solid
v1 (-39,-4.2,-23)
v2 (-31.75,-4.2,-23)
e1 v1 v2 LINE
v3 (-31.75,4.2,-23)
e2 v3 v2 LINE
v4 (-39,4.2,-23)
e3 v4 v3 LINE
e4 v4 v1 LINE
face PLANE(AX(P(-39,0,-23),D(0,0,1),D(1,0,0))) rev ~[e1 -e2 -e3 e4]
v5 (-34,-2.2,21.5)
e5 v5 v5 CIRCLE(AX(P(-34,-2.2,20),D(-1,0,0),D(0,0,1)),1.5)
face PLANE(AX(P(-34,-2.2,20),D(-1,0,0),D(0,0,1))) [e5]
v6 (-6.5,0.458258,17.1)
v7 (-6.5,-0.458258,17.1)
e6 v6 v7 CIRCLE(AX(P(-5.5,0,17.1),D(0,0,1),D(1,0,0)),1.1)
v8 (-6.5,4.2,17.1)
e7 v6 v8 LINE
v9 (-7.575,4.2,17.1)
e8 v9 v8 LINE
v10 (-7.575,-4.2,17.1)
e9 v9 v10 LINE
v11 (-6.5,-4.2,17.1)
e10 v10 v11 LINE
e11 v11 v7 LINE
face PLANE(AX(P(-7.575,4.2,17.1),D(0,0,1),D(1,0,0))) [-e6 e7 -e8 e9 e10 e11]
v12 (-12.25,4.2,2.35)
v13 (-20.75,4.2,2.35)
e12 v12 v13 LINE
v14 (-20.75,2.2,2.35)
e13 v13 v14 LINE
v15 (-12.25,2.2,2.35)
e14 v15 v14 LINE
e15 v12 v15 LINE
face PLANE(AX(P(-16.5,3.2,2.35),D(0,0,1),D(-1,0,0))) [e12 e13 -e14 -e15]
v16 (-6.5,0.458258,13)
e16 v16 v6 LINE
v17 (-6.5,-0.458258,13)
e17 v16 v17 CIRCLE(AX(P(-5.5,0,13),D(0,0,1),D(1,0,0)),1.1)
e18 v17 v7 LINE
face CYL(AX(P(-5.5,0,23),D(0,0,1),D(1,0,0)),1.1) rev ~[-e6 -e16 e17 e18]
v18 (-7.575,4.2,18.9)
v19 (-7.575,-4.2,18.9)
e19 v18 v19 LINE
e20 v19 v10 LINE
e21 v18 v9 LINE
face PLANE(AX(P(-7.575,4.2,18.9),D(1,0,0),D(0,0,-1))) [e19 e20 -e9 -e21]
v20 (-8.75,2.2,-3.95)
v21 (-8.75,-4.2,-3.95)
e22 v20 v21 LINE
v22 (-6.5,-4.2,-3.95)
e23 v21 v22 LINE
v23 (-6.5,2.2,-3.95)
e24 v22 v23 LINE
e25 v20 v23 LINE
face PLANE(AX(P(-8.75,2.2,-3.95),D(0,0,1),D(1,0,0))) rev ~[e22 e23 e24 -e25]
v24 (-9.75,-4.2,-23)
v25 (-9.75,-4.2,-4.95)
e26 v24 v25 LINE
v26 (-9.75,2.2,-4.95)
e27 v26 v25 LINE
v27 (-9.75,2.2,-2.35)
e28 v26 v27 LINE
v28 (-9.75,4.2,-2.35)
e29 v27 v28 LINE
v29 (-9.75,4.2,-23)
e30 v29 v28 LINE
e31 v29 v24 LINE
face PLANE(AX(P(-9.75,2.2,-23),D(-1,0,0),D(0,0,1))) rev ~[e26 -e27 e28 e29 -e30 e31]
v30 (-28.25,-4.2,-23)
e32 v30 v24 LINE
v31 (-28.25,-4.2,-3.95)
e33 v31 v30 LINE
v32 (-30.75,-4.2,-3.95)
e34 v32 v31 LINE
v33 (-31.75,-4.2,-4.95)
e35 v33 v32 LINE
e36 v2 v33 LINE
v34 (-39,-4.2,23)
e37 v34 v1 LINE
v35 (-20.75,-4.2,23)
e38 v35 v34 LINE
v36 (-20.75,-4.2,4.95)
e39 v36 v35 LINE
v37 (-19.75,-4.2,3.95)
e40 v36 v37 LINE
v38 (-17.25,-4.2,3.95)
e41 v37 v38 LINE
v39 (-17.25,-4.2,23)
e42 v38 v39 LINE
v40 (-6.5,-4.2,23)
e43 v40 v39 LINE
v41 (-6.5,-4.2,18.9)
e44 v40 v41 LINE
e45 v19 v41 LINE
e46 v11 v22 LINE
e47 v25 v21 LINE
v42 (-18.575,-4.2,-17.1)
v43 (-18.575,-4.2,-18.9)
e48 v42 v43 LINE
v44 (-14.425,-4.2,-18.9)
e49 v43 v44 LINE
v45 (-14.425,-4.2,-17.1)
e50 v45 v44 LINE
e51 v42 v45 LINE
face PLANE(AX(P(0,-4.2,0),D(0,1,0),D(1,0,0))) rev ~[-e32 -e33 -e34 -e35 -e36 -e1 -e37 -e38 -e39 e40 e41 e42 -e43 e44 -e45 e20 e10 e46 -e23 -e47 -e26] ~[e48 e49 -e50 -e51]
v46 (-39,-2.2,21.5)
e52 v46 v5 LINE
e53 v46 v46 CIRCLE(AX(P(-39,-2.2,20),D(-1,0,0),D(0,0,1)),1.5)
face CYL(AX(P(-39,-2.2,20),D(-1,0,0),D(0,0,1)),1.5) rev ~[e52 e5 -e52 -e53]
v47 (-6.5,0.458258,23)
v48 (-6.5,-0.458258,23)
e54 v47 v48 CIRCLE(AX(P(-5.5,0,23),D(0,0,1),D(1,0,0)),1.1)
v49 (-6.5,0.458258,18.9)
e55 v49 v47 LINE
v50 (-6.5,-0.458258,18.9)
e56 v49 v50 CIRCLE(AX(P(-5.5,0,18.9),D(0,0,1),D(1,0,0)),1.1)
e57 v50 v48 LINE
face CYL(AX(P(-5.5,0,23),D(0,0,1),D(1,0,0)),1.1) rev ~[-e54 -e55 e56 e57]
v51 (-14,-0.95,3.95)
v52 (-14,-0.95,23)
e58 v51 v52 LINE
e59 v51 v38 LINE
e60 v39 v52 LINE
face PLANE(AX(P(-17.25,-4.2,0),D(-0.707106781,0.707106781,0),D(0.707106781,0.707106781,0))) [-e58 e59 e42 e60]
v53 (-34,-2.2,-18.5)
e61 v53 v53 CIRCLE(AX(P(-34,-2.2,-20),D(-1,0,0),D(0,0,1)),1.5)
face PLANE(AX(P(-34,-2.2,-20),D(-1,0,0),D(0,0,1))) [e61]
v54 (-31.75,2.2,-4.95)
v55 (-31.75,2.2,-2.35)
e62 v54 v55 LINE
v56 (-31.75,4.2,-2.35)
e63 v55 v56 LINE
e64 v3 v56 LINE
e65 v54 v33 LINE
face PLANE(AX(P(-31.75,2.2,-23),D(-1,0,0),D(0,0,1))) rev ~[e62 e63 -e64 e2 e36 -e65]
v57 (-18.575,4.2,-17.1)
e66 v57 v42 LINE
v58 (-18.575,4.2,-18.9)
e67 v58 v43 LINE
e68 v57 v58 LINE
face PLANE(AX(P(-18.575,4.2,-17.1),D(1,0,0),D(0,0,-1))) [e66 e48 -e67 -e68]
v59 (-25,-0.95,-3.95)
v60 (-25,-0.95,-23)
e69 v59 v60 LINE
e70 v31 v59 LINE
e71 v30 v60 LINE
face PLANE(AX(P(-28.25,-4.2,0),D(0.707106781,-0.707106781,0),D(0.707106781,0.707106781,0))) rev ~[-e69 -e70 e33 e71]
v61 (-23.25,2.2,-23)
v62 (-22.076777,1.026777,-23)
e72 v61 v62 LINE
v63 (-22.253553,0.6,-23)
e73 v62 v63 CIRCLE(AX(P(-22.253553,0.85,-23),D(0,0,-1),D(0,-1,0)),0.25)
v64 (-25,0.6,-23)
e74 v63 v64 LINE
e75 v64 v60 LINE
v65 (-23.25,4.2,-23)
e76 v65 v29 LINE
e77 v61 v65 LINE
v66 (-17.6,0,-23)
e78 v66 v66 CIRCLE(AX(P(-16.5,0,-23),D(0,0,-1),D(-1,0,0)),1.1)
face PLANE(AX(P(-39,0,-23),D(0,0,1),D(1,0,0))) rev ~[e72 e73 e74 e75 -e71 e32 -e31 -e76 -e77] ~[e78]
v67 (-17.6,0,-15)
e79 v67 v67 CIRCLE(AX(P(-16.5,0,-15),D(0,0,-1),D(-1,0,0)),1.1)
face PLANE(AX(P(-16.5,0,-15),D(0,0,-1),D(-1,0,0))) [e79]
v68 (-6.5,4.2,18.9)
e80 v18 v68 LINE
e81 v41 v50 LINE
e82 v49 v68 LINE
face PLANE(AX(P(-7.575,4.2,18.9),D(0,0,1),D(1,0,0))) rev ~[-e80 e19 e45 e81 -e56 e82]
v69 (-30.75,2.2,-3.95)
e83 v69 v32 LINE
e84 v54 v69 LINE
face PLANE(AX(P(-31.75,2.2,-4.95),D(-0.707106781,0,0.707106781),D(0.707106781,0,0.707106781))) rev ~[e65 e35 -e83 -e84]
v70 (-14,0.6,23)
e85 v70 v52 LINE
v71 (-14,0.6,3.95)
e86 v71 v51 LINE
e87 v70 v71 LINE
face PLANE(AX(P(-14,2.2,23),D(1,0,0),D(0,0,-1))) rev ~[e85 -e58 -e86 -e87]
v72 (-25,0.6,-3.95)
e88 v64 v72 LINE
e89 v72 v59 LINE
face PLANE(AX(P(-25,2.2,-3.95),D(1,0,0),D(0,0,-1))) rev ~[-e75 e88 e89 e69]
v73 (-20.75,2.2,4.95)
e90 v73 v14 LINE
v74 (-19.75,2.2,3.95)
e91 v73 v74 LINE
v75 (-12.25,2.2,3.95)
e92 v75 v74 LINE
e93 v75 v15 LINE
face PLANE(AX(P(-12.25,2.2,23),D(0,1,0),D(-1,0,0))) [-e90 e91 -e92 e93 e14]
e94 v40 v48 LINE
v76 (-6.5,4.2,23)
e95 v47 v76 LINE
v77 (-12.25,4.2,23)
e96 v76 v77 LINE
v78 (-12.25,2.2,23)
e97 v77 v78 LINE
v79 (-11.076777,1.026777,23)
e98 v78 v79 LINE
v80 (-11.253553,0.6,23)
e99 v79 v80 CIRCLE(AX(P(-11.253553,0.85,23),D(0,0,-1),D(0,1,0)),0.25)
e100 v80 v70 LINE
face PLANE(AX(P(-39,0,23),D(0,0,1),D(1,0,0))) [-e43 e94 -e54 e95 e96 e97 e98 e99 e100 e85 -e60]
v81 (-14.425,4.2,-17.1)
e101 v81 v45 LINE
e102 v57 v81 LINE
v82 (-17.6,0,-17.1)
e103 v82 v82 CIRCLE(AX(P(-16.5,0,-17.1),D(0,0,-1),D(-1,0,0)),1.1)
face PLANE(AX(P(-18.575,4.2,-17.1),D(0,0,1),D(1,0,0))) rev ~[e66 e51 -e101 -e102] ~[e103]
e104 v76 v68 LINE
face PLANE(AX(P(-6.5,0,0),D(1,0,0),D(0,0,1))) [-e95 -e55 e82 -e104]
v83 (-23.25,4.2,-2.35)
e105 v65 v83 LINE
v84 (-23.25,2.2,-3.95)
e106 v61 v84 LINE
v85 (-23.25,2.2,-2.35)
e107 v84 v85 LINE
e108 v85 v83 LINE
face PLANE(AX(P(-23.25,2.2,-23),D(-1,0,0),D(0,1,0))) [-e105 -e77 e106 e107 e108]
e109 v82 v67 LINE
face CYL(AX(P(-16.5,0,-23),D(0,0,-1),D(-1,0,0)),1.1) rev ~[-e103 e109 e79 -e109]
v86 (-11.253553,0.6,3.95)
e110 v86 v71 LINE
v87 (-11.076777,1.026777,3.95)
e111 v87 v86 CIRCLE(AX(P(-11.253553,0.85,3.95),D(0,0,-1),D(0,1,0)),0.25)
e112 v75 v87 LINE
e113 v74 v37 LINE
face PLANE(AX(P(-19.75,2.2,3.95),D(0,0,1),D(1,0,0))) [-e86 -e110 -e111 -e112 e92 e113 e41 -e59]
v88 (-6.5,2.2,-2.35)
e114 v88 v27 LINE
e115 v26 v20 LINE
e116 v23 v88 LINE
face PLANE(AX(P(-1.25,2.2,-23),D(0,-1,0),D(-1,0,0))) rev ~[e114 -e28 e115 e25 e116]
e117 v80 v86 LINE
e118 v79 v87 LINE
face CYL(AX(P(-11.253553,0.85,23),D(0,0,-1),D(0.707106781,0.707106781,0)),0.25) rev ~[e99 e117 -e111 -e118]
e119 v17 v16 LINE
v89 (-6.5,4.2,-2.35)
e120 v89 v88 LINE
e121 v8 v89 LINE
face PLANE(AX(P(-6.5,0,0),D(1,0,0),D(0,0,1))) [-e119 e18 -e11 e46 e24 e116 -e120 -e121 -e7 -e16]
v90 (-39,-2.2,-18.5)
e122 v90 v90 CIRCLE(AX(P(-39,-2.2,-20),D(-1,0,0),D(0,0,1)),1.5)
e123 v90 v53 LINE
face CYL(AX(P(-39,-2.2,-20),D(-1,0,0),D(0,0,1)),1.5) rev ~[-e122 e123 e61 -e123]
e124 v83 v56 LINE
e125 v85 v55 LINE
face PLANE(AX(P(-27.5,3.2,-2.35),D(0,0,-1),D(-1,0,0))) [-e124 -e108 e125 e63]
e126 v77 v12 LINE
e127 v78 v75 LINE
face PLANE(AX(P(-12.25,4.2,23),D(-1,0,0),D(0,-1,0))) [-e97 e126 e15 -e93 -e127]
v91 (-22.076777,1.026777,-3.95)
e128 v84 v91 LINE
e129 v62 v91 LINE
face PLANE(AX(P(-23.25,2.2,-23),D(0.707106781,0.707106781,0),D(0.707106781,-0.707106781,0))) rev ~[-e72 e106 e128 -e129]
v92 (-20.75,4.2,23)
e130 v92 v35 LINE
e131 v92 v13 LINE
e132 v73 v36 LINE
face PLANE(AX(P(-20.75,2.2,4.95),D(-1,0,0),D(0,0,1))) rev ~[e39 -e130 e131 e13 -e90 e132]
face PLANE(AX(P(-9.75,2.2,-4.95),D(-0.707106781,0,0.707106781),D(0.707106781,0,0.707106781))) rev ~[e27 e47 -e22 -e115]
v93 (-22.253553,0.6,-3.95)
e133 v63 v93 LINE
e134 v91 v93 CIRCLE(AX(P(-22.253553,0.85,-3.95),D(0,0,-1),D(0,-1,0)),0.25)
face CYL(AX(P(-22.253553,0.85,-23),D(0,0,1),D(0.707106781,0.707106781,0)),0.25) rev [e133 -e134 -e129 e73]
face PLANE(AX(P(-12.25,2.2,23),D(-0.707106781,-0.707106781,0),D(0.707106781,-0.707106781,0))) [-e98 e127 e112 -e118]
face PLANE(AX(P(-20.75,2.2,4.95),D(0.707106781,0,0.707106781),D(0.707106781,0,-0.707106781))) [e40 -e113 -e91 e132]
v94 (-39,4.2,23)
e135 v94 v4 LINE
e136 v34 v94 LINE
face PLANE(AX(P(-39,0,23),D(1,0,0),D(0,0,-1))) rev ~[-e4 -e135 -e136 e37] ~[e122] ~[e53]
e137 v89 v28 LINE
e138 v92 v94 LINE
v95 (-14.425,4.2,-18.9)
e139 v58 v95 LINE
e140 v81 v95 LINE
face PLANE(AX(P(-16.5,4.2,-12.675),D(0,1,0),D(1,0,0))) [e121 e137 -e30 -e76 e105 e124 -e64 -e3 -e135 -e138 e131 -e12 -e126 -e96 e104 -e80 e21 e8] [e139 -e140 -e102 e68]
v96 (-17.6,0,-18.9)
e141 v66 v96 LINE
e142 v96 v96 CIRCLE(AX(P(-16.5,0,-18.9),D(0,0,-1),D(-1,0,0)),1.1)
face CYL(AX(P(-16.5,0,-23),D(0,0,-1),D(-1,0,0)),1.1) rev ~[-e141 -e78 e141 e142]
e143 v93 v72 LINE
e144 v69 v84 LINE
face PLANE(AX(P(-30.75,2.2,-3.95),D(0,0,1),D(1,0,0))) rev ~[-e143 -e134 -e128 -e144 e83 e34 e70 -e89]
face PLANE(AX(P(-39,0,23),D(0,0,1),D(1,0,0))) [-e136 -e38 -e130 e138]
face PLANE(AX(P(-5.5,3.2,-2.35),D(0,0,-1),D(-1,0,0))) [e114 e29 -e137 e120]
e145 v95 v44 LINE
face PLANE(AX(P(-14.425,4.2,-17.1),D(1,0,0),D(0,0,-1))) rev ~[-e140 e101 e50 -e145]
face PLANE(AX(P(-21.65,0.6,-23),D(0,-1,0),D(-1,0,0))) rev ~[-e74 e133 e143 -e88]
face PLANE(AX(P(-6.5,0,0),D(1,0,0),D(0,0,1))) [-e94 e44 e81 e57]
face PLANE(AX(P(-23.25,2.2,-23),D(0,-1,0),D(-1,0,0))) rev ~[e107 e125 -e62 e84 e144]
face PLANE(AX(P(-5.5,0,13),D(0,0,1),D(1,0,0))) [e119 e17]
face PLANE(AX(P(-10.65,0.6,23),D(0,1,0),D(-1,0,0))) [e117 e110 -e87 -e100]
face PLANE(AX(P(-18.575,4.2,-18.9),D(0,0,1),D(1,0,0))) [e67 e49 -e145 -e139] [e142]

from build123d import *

# Parameters (mm, degrees)
SKETCH1_W               = 78
SKETCH1_H               = 46
BOSS_EXTRUDE1_DEPTH     = 4.2
SKETCH2_W               = 8.5
SKETCH2_H               = 2
CUT_EXTRUDE1_DEPTH      = 20.65
CUT_EXTRUDE2_DEPTH      = 7.4
BOSS_EXTRUDE3_DEPTH     = 23
LPATTERN1_COUNT         = 6
LPATTERN1_PITCH         = 11
MIRROR3_COPY_1_SKETCH_W = 8.5
MIRROR3_COPY_1_SKETCH_H = 2
MIRROR3_COPY_1_DEPTH    = 20.65
MIRROR3_COPY_2_SKETCH_W = 8.5
MIRROR3_COPY_2_SKETCH_H = 2
MIRROR3_COPY_2_DEPTH    = 20.65
MIRROR3_COPY_3_SKETCH_W = 8.5
MIRROR3_COPY_3_SKETCH_H = 2
MIRROR3_COPY_3_DEPTH    = 20.65
MIRROR3_COPY_4_SKETCH_W = 8.5
MIRROR3_COPY_4_SKETCH_H = 2
MIRROR3_COPY_4_DEPTH    = 20.65
MIRROR3_COPY_5_SKETCH_W = 8.5
MIRROR3_COPY_5_SKETCH_H = 2
MIRROR3_COPY_5_DEPTH    = 20.65
MIRROR3_COPY_6_DEPTH    = 7.4
MIRROR3_COPY_7_DEPTH    = 7.4
MIRROR3_COPY_8_DEPTH    = 7.4
MIRROR3_COPY_9_DEPTH    = 7.4
MIRROR3_COPY_10_DEPTH   = 7.4
MIRROR3_COPY_11_DEPTH   = 23
MIRROR3_COPY_12_DEPTH   = 23
MIRROR3_COPY_13_DEPTH   = 23
MIRROR3_COPY_14_DEPTH   = 23
MIRROR3_COPY_15_DEPTH   = 23
SKETCH6_W               = 8.5
SKETCH6_H               = 20.65
BOSS_EXTRUDE2_DEPTH     = 8.4
SKETCH4_R               = 1.5
CUT_EXTRUDE3_DEPTH      = 5
SKETCH7_R               = 1.1
CUT_EXTRUDE4_DEPTH      = 10
SKETCH9_W               = 4.15
SKETCH9_H               = 1.8
CUT_EXTRUDE5_DEPTH      = 9.4
SKETCH10_W              = 4.15
SKETCH10_H              = 1.8
CUT_EXTRUDE6_DEPTH      = 9.4
SKETCH11_R              = 1.1
CUT_EXTRUDE7_DEPTH      = 8
LPATTERN2_COUNT         = 2
LPATTERN2_PITCH         = 22
CUT_EXTRUDE8_DEPTH      = 19.05
CUT_EXTRUDE9_DEPTH      = 19.05
LPATTERN3_COUNT         = 3
LPATTERN3_PITCH         = 22
LPATTERN4_COUNT         = 3
LPATTERN4_PITCH         = 22
FILLET1_R               = 0.25


with BuildPart() as part:
    # Sketch1 → Boss-Extrude1 (new body, symmetric)
    with BuildSketch(Plane(origin=(0, 0, 0), x_dir=(1, 0, 0), z_dir=(0, 1, 0))):
        Rectangle(SKETCH1_W, SKETCH1_H)
    extrude(amount=BOSS_EXTRUDE1_DEPTH, both=True)

    # Sketch2 → Cut-Extrude1 (cut)
    with BuildSketch(Plane(origin=(0, 0, -23), x_dir=(-1, 0, 0), z_dir=(0, 0, -1))):
        with Locations((-27.5, 3.2)):
            Rectangle(SKETCH2_W, SKETCH2_H)
    cut_extrude1 = extrude(amount=-CUT_EXTRUDE1_DEPTH, mode=Mode.SUBTRACT)

    # Sketch3 → Cut-Extrude2 (cut, through all)
    with BuildSketch(Plane(origin=(0, 2.2, 0), x_dir=(1, 0, 0), z_dir=(0, 1, 0))):
        Polygon((24.25, 21.3), (23.25, 20.3), (23.25, 4.95), (24.25, 3.95), (30, 3.95), (30, 21.3), align=None)
        Polygon((30, 23), (23.25, 23), (23.25, 20.3), (24.25, 21.3), (30, 21.3), align=None)
    cut_extrude2 = extrude(amount=-CUT_EXTRUDE2_DEPTH, mode=Mode.SUBTRACT)

    # Sketch15 → Boss-Extrude3 (add)
    with BuildSketch(Plane.XY):
        Polygon((30, -4.2), (26.75, -4.2), (30, -0.95), align=None)
    boss_extrude3 = extrude(amount=-BOSS_EXTRUDE3_DEPTH)

    # LPattern1: Cut-Extrude1, Cut-Extrude2, Boss-Extrude3 ×6
    with Locations(*[(-i * LPATTERN1_PITCH, 0, 0) for i in range(1, LPATTERN1_COUNT)]):
        add(cut_extrude1, mode=Mode.SUBTRACT)
        add(cut_extrude2, mode=Mode.SUBTRACT)
        add(boss_extrude3)

    # Mirror3: Cut-Extrude1, Cut-Extrude2, Boss-Extrude3 across plane
    add(cut_extrude1.mirror(Plane.XY), mode=Mode.SUBTRACT)
    add(cut_extrude2.mirror(Plane.XY), mode=Mode.SUBTRACT)
    add(boss_extrude3.mirror(Plane.XY))

    # Mirror3 copy 1 sketch → Mirror3 copy 1 (cut)
    with BuildSketch(Plane(origin=(-11, 0, 23), x_dir=(-1, 0, 0), z_dir=(0, 0, 1))):
        with Locations((-27.5, -3.2)):
            Rectangle(MIRROR3_COPY_1_SKETCH_W, MIRROR3_COPY_1_SKETCH_H)
    extrude(amount=-MIRROR3_COPY_1_DEPTH, mode=Mode.SUBTRACT)

    # Mirror3 copy 2 sketch → Mirror3 copy 2 (cut)
    with BuildSketch(Plane(origin=(-22, 0, 23), x_dir=(-1, 0, 0), z_dir=(0, 0, 1))):
        with Locations((-27.5, -3.2)):
            Rectangle(MIRROR3_COPY_2_SKETCH_W, MIRROR3_COPY_2_SKETCH_H)
    extrude(amount=-MIRROR3_COPY_2_DEPTH, mode=Mode.SUBTRACT)

    # Mirror3 copy 3 sketch → Mirror3 copy 3 (cut)
    with BuildSketch(Plane(origin=(-33, 0, 23), x_dir=(-1, 0, 0), z_dir=(0, 0, 1))):
        with Locations((-27.5, -3.2)):
            Rectangle(MIRROR3_COPY_3_SKETCH_W, MIRROR3_COPY_3_SKETCH_H)
    extrude(amount=-MIRROR3_COPY_3_DEPTH, mode=Mode.SUBTRACT)

    # Mirror3 copy 4 sketch → Mirror3 copy 4 (cut)
    with BuildSketch(Plane(origin=(-44, 0, 23), x_dir=(-1, 0, 0), z_dir=(0, 0, 1))):
        with Locations((-27.5, -3.2)):
            Rectangle(MIRROR3_COPY_4_SKETCH_W, MIRROR3_COPY_4_SKETCH_H)
    extrude(amount=-MIRROR3_COPY_4_DEPTH, mode=Mode.SUBTRACT)

    # Mirror3 copy 5 sketch → Mirror3 copy 5 (cut)
    with BuildSketch(Plane(origin=(-55, 0, 23), x_dir=(-1, 0, 0), z_dir=(0, 0, 1))):
        with Locations((-27.5, -3.2)):
            Rectangle(MIRROR3_COPY_5_SKETCH_W, MIRROR3_COPY_5_SKETCH_H)
    extrude(amount=-MIRROR3_COPY_5_DEPTH, mode=Mode.SUBTRACT)

    # Mirror3 copy 6 sketch → Mirror3 copy 6 (cut, through all)
    with BuildSketch(Plane(origin=(-11, 2.2, 0), x_dir=(1, 0, 0), z_dir=(0, 1, 0))):
        Polygon((24.25, -21.3), (23.25, -20.3), (23.25, -4.95), (24.25, -3.95), (30, -3.95), (30, -21.3), align=None)
        Polygon((30, -23), (23.25, -23), (23.25, -20.3), (24.25, -21.3), (30, -21.3), align=None)
    extrude(amount=-MIRROR3_COPY_6_DEPTH, mode=Mode.SUBTRACT)

    # Mirror3 copy 7 sketch → Mirror3 copy 7 (cut, through all)
    with BuildSketch(Plane(origin=(-22, 2.2, 0), x_dir=(1, 0, 0), z_dir=(0, 1, 0))):
        Polygon((24.25, -21.3), (23.25, -20.3), (23.25, -4.95), (24.25, -3.95), (30, -3.95), (30, -21.3), align=None)
        Polygon((30, -23), (23.25, -23), (23.25, -20.3), (24.25, -21.3), (30, -21.3), align=None)
    extrude(amount=-MIRROR3_COPY_7_DEPTH, mode=Mode.SUBTRACT)

    # Mirror3 copy 8 sketch → Mirror3 copy 8 (cut, through all)
    with BuildSketch(Plane(origin=(-33, 2.2, 0), x_dir=(1, 0, 0), z_dir=(0, 1, 0))):
        Polygon((24.25, -21.3), (23.25, -20.3), (23.25, -4.95), (24.25, -3.95), (30, -3.95), (30, -21.3), align=None)
        Polygon((30, -23), (23.25, -23), (23.25, -20.3), (24.25, -21.3), (30, -21.3), align=None)
    extrude(amount=-MIRROR3_COPY_8_DEPTH, mode=Mode.SUBTRACT)

    # Mirror3 copy 9 sketch → Mirror3 copy 9 (cut, through all)
    with BuildSketch(Plane(origin=(-44, 2.2, 0), x_dir=(1, 0, 0), z_dir=(0, 1, 0))):
        Polygon((24.25, -21.3), (23.25, -20.3), (23.25, -4.95), (24.25, -3.95), (30, -3.95), (30, -21.3), align=None)
        Polygon((30, -23), (23.25, -23), (23.25, -20.3), (24.25, -21.3), (30, -21.3), align=None)
    extrude(amount=-MIRROR3_COPY_9_DEPTH, mode=Mode.SUBTRACT)

    # Mirror3 copy 10 sketch → Mirror3 copy 10 (cut, through all)
    with BuildSketch(Plane(origin=(-55, 2.2, 0), x_dir=(1, 0, 0), z_dir=(0, 1, 0))):
        Polygon((24.25, -21.3), (23.25, -20.3), (23.25, -4.95), (24.25, -3.95), (30, -3.95), (30, -21.3), align=None)
        Polygon((30, -23), (23.25, -23), (23.25, -20.3), (24.25, -21.3), (30, -21.3), align=None)
    extrude(amount=-MIRROR3_COPY_10_DEPTH, mode=Mode.SUBTRACT)

    # Mirror3 copy 11 sketch → Mirror3 copy 11 (add)
    with BuildSketch(Plane(origin=(-11, 0, 0), x_dir=(1, 0, 0), z_dir=(0, 0, -1))):
        Polygon((30, 4.2), (26.75, 4.2), (30, 0.95), align=None)
    extrude(amount=-MIRROR3_COPY_11_DEPTH)

    # Mirror3 copy 12 sketch → Mirror3 copy 12 (add)
    with BuildSketch(Plane(origin=(-22, 0, 0), x_dir=(1, 0, 0), z_dir=(0, 0, -1))):
        Polygon((30, 4.2), (26.75, 4.2), (30, 0.95), align=None)
    extrude(amount=-MIRROR3_COPY_12_DEPTH)

    # Mirror3 copy 13 sketch → Mirror3 copy 13 (add)
    with BuildSketch(Plane(origin=(-33, 0, 0), x_dir=(1, 0, 0), z_dir=(0, 0, -1))):
        Polygon((30, 4.2), (26.75, 4.2), (30, 0.95), align=None)
    extrude(amount=-MIRROR3_COPY_13_DEPTH)

    # Mirror3 copy 14 sketch → Mirror3 copy 14 (add)
    with BuildSketch(Plane(origin=(-44, 0, 0), x_dir=(1, 0, 0), z_dir=(0, 0, -1))):
        Polygon((30, 4.2), (26.75, 4.2), (30, 0.95), align=None)
    extrude(amount=-MIRROR3_COPY_14_DEPTH)

    # Mirror3 copy 15 sketch → Mirror3 copy 15 (add)
    with BuildSketch(Plane(origin=(-55, 0, 0), x_dir=(1, 0, 0), z_dir=(0, 0, -1))):
        Polygon((30, 4.2), (26.75, 4.2), (30, 0.95), align=None)
    extrude(amount=-MIRROR3_COPY_15_DEPTH)

    # Sketch6 → Boss-Extrude2 (add)
    with BuildSketch(Plane(origin=(0, 4.2, 0), x_dir=(1, 0, 0), z_dir=(0, 1, 0))):
        with Locations((-16.5, 12.675)):
            Rectangle(SKETCH6_W, SKETCH6_H)
        with Locations((5.5, 12.675)):
            Rectangle(SKETCH6_W, SKETCH6_H)
        with Locations((27.5, 12.675)):
            Rectangle(SKETCH6_W, SKETCH6_H)
        with Locations((-27.5, -12.675)):
            Rectangle(SKETCH6_W, SKETCH6_H)
        with Locations((-5.5, -12.675)):
            Rectangle(SKETCH6_W, SKETCH6_H)
        with Locations((16.5, -12.675)):
            Rectangle(SKETCH6_W, SKETCH6_H)
    extrude(amount=-BOSS_EXTRUDE2_DEPTH)

    # Sketch4 → Cut-Extrude3 (cut)
    with BuildSketch(Plane.ZY.offset(39)):
        with Locations((-20, -2.2)):
            Circle(SKETCH4_R)
        with Locations((20, -2.2)):
            Circle(SKETCH4_R)
    cut_extrude3 = extrude(amount=-CUT_EXTRUDE3_DEPTH, mode=Mode.SUBTRACT)

    # Mirror1: Cut-Extrude3 across plane
    add(cut_extrude3.mirror(Plane(origin=(0, 0, 0), x_dir=(0, 0, 1), z_dir=(1, 0, 0))), mode=Mode.SUBTRACT)

    # Sketch7 → Cut-Extrude4 (cut)
    with BuildSketch(Plane.XY.offset(23)):
        with Locations((-5.5, 0)):
            Circle(SKETCH7_R)
        with Locations((16.5, 0)):
            Circle(SKETCH7_R)
    extrude(amount=-CUT_EXTRUDE4_DEPTH, mode=Mode.SUBTRACT)

    # Sketch9 → Cut-Extrude5 (cut, through all)
    with BuildSketch(Plane(origin=(0, 4.2, 0), x_dir=(1, 0, 0), z_dir=(0, 1, 0))):
        with Locations((-5.5, -18)):
            Rectangle(SKETCH9_W, SKETCH9_H)
        Polygon((18.575, -18.9), (14.425, -17.1), (14.425, -18.9), align=None)
        Polygon((18.575, -17.1), (14.425, -17.1), (18.575, -18.9), align=None)
    extrude(amount=-CUT_EXTRUDE5_DEPTH, mode=Mode.SUBTRACT)

    # Sketch10 → Cut-Extrude6 (cut, through all)
    with BuildSketch(Plane(origin=(0, 4.2, 0), x_dir=(1, 0, 0), z_dir=(0, 1, 0))):
        with Locations((-16.5, 18)):
            Rectangle(SKETCH10_W, SKETCH10_H)
    cut_extrude6 = extrude(amount=-CUT_EXTRUDE6_DEPTH, mode=Mode.SUBTRACT)

    # Sketch11 → Cut-Extrude7 (cut)
    with BuildSketch(Plane(origin=(0, 0, -23), x_dir=(-1, 0, 0), z_dir=(0, 0, -1))):
        with Locations((16.5, 0)):
            Circle(SKETCH11_R)
    cut_extrude7 = extrude(amount=-CUT_EXTRUDE7_DEPTH, mode=Mode.SUBTRACT)

    # LPattern2: Cut-Extrude6, Cut-Extrude7 ×2
    with Locations(*[(i * LPATTERN2_PITCH, 0, 0) for i in range(1, LPATTERN2_COUNT)]):
        add(cut_extrude6, mode=Mode.SUBTRACT)
        add(cut_extrude7, mode=Mode.SUBTRACT)

    # Sketch12 → Cut-Extrude8 (cut)
    with BuildSketch(Plane(origin=(0, 0, -23), x_dir=(-1, 0, 0), z_dir=(0, 0, -1))):
        Polygon((-20.75, 2.2), (-22.35, 0.6), (-19, 0.6), (-19, 2.2), align=None)
    cut_extrude8 = extrude(amount=-CUT_EXTRUDE8_DEPTH, mode=Mode.SUBTRACT)

    # Sketch13 → Cut-Extrude9 (cut)
    with BuildSketch(Plane.XY.offset(23)):
        Polygon((31.75, 2.2), (33.35, 0.6), (30, 0.6), (30, 2.2), align=None)
    cut_extrude9 = extrude(amount=-CUT_EXTRUDE9_DEPTH, mode=Mode.SUBTRACT)

    # LPattern3: Cut-Extrude8 ×3
    with Locations(*[(-i * LPATTERN3_PITCH, 0, 0) for i in range(1, LPATTERN3_COUNT)]):
        add(cut_extrude8, mode=Mode.SUBTRACT)

    # LPattern4: Cut-Extrude9 ×3
    with Locations(*[(-i * LPATTERN4_PITCH, 0, 0) for i in range(1, LPATTERN4_COUNT)]):
        add(cut_extrude9, mode=Mode.SUBTRACT)

    # Fillet1
    fillet1_edges = [part.edges().sort_by_distance(p)[0] for p in [
        (22.35, 0.6, -13.475),
        (33.35, 0.6, 13.475),
        (0.35, 0.6, -13.475),
        (-21.65, 0.6, -13.475),
        (11.35, 0.6, 13.475),
        (-10.65, 0.6, 13.475),
    ]]
    fillet(fillet1_edges, radius=FILLET1_R)


with BuildPart() as body_2:
    # Split1: the piece on the far side of the plane
    add(part.part)
    split(bisect_by=Plane(origin=(-6.5, 0, 0), x_dir=(0, 0, 1), z_dir=(1, 0, 0)), keep=Keep.BOTTOM)


with BuildPart() as part_1:
    add(part.part)

    # Split1
    split(bisect_by=Plane(origin=(-6.5, 0, 0), x_dir=(0, 0, 1), z_dir=(1, 0, 0)), keep=Keep.TOP)


solid = body_2.part
